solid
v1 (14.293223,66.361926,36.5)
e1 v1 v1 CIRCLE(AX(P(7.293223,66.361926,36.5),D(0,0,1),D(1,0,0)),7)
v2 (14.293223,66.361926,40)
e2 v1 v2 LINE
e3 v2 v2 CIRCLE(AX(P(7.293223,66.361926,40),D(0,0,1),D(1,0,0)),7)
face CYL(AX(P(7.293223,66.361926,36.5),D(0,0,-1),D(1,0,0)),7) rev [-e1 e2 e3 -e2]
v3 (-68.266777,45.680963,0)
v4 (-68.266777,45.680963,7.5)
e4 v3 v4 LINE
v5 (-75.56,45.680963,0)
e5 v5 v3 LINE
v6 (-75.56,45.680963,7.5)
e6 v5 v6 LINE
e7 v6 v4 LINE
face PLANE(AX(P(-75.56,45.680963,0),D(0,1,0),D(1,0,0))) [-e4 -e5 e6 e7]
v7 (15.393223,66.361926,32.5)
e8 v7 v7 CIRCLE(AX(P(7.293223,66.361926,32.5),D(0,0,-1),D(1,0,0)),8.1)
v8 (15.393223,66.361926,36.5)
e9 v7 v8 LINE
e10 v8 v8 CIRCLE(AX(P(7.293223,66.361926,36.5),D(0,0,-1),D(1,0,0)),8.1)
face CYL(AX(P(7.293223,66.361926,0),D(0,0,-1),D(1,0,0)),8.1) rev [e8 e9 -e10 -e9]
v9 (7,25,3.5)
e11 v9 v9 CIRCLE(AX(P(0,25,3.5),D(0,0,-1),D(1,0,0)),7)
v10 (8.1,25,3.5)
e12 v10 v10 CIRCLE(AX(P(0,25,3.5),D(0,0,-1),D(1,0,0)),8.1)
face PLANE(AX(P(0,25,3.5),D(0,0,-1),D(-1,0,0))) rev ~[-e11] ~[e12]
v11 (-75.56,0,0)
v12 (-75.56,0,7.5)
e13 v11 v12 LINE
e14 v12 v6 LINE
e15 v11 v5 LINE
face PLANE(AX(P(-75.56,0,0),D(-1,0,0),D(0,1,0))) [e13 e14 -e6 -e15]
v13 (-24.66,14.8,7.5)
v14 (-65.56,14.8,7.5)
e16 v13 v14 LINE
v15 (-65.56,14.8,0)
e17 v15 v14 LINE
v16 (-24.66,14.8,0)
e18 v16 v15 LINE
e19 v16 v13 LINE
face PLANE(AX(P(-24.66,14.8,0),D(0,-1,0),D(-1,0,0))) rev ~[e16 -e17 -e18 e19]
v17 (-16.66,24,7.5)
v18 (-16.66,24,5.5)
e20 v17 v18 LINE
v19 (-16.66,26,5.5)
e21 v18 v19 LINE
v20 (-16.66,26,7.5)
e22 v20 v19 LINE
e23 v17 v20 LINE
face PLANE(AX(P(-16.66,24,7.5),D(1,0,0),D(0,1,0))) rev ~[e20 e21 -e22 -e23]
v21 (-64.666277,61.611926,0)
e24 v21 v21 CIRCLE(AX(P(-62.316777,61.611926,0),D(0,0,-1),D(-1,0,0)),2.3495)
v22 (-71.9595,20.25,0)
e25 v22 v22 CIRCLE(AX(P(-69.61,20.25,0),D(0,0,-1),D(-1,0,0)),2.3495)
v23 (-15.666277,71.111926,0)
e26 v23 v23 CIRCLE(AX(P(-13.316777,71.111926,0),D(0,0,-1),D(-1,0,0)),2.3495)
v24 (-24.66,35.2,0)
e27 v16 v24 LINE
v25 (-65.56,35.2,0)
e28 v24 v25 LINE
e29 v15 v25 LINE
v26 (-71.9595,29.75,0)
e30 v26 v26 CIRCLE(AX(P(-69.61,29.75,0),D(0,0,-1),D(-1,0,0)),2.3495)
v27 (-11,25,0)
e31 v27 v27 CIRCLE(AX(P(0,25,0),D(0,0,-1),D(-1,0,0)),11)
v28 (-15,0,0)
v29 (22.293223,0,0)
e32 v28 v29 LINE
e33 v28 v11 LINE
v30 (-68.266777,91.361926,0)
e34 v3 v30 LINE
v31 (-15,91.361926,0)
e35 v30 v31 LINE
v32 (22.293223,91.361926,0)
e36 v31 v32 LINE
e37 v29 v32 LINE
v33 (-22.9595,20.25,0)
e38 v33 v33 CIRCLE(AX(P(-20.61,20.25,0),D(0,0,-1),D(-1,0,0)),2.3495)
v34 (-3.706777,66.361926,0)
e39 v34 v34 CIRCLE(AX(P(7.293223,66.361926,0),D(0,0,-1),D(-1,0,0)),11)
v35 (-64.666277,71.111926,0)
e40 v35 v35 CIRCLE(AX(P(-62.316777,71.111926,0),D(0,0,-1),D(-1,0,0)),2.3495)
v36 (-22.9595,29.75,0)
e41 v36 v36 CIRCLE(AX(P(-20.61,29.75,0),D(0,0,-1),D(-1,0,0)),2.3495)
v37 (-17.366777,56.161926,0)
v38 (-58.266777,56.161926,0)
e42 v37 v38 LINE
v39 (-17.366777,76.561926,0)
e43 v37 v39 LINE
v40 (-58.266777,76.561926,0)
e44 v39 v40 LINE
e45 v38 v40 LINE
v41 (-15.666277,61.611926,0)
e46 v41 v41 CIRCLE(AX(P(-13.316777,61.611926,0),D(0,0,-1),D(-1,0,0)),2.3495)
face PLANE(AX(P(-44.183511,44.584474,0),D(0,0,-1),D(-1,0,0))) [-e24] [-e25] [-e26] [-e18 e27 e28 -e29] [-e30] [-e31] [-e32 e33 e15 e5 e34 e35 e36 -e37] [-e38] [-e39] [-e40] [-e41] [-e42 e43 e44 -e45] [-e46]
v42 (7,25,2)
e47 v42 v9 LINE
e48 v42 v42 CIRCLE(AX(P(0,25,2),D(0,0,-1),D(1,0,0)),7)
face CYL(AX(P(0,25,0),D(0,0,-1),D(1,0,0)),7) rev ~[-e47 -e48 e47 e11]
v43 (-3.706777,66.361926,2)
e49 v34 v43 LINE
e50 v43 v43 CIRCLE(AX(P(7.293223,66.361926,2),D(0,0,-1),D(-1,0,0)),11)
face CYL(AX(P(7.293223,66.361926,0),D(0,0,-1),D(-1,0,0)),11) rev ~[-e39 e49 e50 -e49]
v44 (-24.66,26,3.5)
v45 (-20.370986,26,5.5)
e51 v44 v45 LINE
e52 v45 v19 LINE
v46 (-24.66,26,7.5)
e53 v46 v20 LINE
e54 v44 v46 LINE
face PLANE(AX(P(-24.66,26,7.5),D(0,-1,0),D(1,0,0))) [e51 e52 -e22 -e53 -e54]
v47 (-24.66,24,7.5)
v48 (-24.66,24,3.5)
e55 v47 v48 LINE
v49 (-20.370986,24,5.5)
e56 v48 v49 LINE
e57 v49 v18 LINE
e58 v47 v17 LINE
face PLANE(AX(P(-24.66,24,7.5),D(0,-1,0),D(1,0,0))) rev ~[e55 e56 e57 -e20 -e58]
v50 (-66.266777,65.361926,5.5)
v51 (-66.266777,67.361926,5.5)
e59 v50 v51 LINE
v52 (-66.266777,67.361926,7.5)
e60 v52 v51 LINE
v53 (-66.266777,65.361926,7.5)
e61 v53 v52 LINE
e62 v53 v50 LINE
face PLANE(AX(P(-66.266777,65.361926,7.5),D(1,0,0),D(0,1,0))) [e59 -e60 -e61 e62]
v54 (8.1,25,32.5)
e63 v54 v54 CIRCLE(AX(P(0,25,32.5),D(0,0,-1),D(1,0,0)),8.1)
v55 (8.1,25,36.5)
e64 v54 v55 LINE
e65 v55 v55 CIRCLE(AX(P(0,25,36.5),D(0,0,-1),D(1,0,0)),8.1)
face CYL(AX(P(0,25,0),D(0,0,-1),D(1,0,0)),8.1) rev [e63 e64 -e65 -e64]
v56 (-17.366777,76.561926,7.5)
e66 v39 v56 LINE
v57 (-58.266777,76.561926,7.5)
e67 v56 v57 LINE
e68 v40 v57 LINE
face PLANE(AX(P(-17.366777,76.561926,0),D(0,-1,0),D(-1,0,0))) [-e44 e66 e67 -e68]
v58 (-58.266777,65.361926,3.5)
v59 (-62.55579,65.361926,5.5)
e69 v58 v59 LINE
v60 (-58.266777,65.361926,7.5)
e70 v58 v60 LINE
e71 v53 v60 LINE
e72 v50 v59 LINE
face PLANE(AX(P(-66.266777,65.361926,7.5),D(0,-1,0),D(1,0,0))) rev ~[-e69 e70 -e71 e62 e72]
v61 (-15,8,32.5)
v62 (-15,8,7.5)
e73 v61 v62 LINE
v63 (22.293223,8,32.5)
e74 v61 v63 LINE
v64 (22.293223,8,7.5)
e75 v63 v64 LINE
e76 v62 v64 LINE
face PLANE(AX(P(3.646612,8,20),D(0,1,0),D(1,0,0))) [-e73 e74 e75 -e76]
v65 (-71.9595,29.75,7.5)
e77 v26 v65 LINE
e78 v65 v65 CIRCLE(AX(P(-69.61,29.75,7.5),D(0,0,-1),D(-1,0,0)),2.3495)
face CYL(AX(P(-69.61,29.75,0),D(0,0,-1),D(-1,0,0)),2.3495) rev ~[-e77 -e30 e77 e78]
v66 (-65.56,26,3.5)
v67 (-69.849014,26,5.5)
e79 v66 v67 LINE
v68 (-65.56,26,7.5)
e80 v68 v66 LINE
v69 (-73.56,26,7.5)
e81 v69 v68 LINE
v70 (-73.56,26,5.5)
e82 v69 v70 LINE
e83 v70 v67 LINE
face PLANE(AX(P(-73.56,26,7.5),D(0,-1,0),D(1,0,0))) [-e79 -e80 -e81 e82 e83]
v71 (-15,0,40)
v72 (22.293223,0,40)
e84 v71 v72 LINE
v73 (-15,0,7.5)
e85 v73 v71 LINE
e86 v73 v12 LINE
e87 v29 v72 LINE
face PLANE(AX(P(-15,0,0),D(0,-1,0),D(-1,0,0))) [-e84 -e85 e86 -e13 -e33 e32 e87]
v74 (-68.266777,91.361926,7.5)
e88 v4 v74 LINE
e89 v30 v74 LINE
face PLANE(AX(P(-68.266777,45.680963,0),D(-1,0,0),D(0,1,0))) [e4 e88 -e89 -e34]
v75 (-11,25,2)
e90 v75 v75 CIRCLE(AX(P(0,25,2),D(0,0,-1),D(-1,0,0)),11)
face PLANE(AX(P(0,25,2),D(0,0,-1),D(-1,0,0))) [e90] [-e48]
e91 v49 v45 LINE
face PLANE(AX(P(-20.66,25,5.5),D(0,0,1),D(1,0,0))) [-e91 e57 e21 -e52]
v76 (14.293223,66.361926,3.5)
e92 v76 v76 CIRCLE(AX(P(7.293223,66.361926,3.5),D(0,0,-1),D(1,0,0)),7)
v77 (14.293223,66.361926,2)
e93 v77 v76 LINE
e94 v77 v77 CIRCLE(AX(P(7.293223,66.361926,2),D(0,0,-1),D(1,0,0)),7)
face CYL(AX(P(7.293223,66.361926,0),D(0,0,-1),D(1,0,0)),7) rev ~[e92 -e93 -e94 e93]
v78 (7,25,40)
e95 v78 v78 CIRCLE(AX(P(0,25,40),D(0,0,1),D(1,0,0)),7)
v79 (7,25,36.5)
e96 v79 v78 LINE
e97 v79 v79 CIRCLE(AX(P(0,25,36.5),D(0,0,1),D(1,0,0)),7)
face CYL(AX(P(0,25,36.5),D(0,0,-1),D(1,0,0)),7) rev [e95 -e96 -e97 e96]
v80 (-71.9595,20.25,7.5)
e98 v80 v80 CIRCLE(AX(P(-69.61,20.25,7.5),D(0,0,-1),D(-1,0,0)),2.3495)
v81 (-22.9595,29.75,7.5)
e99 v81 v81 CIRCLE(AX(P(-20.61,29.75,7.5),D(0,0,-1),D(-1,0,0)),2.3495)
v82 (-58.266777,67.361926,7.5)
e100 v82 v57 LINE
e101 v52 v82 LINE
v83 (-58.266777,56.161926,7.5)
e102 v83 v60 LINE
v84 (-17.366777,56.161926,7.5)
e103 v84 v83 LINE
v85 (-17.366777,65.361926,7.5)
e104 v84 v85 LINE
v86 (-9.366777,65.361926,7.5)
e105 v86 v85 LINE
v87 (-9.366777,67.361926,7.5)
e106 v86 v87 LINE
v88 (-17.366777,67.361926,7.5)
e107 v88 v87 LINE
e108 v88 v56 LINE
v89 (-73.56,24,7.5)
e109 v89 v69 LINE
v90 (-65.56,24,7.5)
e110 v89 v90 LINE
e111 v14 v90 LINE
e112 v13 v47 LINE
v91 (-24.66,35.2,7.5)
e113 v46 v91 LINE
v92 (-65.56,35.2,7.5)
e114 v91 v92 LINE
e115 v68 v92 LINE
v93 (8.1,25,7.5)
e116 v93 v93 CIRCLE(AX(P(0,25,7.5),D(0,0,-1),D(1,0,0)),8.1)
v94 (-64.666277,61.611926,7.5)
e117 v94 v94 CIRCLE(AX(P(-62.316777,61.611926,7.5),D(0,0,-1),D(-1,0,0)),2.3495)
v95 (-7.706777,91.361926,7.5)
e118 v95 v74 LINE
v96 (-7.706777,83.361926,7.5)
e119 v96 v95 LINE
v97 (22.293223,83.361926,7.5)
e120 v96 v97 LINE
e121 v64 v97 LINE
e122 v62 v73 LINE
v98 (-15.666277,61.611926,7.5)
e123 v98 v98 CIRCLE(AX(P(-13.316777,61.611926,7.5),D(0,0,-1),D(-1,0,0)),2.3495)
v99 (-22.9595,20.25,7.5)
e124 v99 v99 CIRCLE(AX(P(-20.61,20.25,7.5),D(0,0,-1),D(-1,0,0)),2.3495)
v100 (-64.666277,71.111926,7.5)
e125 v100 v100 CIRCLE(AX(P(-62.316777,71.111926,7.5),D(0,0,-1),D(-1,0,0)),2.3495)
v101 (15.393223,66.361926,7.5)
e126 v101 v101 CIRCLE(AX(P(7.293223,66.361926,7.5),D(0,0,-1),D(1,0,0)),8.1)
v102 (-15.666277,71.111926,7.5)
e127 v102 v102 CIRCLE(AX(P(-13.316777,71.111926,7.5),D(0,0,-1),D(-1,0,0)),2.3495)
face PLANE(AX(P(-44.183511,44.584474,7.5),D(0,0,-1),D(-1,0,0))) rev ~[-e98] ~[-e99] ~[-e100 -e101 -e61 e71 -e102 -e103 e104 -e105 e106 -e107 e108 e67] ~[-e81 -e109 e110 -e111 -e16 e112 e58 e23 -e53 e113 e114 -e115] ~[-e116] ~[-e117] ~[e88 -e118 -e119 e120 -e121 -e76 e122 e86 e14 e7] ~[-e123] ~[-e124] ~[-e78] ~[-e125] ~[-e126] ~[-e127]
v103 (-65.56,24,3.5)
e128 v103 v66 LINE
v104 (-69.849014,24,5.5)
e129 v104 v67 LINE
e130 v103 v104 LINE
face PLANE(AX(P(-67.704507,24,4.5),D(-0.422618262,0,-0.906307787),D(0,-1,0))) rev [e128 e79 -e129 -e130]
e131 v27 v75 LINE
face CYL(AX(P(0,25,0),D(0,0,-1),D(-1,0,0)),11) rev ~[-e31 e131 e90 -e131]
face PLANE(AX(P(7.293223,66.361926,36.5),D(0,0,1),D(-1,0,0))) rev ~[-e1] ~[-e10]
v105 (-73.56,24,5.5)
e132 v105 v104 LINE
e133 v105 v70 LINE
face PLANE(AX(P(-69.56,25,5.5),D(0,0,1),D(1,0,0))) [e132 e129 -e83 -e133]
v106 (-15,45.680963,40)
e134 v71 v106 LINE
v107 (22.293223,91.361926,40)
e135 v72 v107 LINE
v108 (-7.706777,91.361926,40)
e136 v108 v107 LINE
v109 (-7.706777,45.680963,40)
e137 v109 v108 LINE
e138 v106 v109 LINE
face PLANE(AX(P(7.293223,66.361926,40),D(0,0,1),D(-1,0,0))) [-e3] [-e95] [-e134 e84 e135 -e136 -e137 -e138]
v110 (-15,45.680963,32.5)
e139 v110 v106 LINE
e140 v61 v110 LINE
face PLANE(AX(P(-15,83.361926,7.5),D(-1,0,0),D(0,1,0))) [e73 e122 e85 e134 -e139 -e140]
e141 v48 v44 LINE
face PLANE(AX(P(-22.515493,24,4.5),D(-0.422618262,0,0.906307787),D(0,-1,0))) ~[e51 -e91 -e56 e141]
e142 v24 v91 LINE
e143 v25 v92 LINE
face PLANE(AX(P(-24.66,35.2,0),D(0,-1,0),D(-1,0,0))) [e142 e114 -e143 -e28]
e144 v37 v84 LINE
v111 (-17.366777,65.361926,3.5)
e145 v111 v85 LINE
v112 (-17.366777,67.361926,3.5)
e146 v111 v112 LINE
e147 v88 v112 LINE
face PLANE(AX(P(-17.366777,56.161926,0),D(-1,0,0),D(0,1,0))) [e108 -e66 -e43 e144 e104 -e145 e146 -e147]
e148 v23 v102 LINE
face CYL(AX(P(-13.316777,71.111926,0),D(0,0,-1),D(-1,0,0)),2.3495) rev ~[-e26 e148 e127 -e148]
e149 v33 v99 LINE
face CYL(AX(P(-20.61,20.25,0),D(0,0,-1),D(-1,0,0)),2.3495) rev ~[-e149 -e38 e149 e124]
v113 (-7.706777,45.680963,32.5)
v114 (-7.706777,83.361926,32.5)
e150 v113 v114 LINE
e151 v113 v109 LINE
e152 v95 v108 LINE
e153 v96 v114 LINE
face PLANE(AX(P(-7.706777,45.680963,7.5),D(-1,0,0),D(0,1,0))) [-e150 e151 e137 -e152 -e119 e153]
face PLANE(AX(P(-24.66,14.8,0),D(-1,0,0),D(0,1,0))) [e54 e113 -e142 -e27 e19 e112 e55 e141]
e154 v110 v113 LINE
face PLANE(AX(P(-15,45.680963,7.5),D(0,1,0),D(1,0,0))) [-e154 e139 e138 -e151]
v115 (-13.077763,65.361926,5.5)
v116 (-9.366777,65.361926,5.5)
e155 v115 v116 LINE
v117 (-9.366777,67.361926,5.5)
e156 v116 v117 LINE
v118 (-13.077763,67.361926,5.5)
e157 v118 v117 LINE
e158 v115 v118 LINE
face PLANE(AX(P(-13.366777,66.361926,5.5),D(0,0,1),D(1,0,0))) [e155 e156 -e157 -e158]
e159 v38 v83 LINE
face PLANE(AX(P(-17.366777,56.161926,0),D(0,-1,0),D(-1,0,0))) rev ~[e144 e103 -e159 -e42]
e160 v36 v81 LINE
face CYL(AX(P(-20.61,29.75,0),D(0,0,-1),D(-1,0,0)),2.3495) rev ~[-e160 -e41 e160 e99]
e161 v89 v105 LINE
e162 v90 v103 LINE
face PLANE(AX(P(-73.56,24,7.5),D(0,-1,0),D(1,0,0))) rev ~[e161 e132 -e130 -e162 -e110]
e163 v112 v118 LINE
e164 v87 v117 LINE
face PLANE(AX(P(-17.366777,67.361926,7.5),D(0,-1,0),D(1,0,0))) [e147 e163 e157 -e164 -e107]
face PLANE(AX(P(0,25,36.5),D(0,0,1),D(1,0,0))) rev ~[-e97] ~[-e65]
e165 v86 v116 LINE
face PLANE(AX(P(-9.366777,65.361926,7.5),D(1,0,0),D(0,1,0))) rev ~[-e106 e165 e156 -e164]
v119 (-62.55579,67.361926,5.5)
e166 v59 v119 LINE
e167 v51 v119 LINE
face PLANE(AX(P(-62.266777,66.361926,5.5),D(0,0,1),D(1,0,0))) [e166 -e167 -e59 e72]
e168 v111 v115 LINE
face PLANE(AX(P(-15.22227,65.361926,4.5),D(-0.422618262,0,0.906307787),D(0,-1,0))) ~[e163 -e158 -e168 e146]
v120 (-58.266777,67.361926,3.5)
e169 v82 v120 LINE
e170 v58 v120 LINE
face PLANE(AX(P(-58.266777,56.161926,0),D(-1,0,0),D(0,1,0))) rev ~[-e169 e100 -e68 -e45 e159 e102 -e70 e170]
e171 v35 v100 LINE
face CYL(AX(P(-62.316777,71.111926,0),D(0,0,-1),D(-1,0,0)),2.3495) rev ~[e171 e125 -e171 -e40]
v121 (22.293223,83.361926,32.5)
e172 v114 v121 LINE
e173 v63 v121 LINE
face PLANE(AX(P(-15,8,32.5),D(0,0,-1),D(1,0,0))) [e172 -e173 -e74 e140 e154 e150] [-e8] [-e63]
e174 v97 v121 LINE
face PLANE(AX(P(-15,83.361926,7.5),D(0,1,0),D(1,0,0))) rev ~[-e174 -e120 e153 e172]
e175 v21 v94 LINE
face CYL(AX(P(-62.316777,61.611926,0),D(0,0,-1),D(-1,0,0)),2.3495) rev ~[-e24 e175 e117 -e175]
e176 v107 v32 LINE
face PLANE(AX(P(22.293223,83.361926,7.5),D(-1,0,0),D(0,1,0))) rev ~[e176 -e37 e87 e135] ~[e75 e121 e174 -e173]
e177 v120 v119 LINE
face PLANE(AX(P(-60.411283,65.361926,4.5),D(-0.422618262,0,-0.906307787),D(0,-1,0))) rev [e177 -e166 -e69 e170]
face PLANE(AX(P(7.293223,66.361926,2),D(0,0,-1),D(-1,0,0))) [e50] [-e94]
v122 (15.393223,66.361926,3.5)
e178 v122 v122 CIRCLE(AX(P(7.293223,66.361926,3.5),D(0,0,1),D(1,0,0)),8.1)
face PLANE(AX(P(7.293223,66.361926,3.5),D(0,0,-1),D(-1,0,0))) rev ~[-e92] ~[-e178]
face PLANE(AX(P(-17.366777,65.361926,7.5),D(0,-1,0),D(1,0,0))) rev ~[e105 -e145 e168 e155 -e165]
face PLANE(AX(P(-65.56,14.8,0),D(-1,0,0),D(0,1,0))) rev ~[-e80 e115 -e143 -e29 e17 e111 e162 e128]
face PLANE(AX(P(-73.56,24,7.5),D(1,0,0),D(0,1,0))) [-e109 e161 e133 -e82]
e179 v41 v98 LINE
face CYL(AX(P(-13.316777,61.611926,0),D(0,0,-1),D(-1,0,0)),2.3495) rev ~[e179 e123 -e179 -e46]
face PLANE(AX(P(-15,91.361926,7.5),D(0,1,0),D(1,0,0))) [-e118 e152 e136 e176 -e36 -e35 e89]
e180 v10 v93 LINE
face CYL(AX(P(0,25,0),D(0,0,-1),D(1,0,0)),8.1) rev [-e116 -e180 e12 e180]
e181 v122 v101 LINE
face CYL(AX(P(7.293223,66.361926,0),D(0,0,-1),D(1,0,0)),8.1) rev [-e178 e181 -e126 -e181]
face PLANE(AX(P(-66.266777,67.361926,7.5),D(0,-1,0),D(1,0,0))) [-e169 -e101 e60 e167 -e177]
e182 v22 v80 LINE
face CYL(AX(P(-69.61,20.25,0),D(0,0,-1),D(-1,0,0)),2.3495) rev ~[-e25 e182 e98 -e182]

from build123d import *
from OCP.BRepFilletAPI import BRepFilletAPI_MakeChamfer

# Parameters (mm, degrees)
SKETCH1_W           = 37.293223462
SKETCH1_H           = 91.361925627
SKETCH1_R           = 8.1
BOSS_EXTRUDE1_DEPTH = 40
CUT_EXTRUDE1_START  = 8
SKETCH2_W           = 37.293223462
SKETCH2_H           = 25
CUT_EXTRUDE1_DEPTH  = 95.195837814
BOSS_EXTRUDE2_START = -3.5
SKETCH10_R          = 8.1
SKETCH10_R_2        = 7
SKETCH10_R_3        = 10.837031589
BOSS_EXTRUDE2_DEPTH = 3.5
SKETCH11_R          = 8.1
SKETCH11_R_2        = 7
BOSS_EXTRUDE3_DEPTH = 3.5
SKETCH12_W          = 40.9
SKETCH12_H          = 20.4
BOSS_EXTRUDE4_DEPTH = 7.5
CUT_EXTRUDE2_REACH  = 127.125
SKETCH13_R          = 2.3495
SKETCH22_W          = 8
SKETCH22_H          = 2
CUT_EXTRUDE6_DEPTH  = 2
SKETCH14_W          = 37.293223462
SKETCH14_H          = 8
BOSS_EXTRUDE5_DEPTH = 25
CUT_EXTRUDE4_START  = -32.5
SKETCH18_W          = 7.293223462
SKETCH18_H          = 45.680962814
CUT_EXTRUDE4_DEPTH  = 32.5
SKETCH15_R          = 11
CUT_EXTRUDE3_DEPTH  = 2
CHAMFER2_SIZE       = 2
CHAMFER2_SIZE2      = 4.289013841


with BuildPart() as part:
    # Sketch1 → Boss-Extrude1 (new body)
    with BuildSketch(Plane.XY):
        with Locations((3.646611731, 45.680962814)):
            Rectangle(SKETCH1_W, SKETCH1_H)
        with Locations((0, 25)):
            Circle(SKETCH1_R, mode=Mode.SUBTRACT)
        with Locations((7.293223462, 66.361925627)):
            Circle(SKETCH1_R, mode=Mode.SUBTRACT)
    extrude(amount=BOSS_EXTRUDE1_DEPTH)

    # Sketch2 → Cut-Extrude1 (cut, through all)
    with BuildSketch(Plane(origin=(0, 0, 0), x_dir=(1, 0, 0), z_dir=(0, 1, 0)).offset(CUT_EXTRUDE1_START)):
        with Locations((3.646611731, -20)):
            Rectangle(SKETCH2_W, SKETCH2_H)
    extrude(amount=CUT_EXTRUDE1_DEPTH, mode=Mode.SUBTRACT)

    # Sketch10 → Boss-Extrude2 (add)
    # profile 1 of 2: a face of its own
    with BuildSketch(Plane.XY.offset(40).offset(BOSS_EXTRUDE2_START)):
        with Locations(Location((7.293223462, 66.361925627, 0), (0, 0, 180))):
            Circle(SKETCH10_R)
        with Locations((7.293223462, 66.361925627)):
            Circle(SKETCH10_R_2, mode=Mode.SUBTRACT)
    # profile 2 of 2: a face of its own
    with BuildSketch(Plane.XY.offset(40).offset(BOSS_EXTRUDE2_START)):
        with Locations((0, 25)):
            Circle(SKETCH10_R_3)
        with Locations((0, 25)):
            Circle(SKETCH10_R_2, mode=Mode.SUBTRACT)
    extrude(amount=BOSS_EXTRUDE2_DEPTH)

    # Sketch11 → Boss-Extrude3 (add)
    # profile 1 of 2: a face of its own
    with BuildSketch(Plane(origin=(0, 0, 0), x_dir=(-1, 0, 0), z_dir=(0, 0, -1))):
        with Locations((-7.293223462, 66.361925627)):
            Circle(SKETCH11_R)
        with Locations(Location((-7.293223462, 66.361925627, 0), (0, 0, 180))):
            Circle(SKETCH11_R_2, mode=Mode.SUBTRACT)
    # profile 2 of 2: a face of its own
    with BuildSketch(Plane(origin=(0, 0, 0), x_dir=(-1, 0, 0), z_dir=(0, 0, -1))):
        with Locations((0, 25)):
            Circle(SKETCH11_R)
        with Locations(Location((0, 25, 0), (0, 0, 180))):
            Circle(SKETCH11_R_2, mode=Mode.SUBTRACT)
    extrude(amount=-BOSS_EXTRUDE3_DEPTH)

    # Sketch12 → Boss-Extrude4 (add)
    with BuildSketch(Plane(origin=(0, 0, 0), x_dir=(-1, 0, 0), z_dir=(0, 0, -1))):
        Polygon((15, 0), (75.56, 0), (75.56, 45.680962813), (68.266776538, 45.680962813), (68.266776538, 91.361925627), (15, 91.361925627), align=None)
        with Locations((45.11, 25)):
            Rectangle(SKETCH12_W, SKETCH12_H, mode=Mode.SUBTRACT)
        with Locations((37.816776538, 66.361925627)):
            Rectangle(SKETCH12_W, SKETCH12_H, mode=Mode.SUBTRACT)
    extrude(amount=-BOSS_EXTRUDE4_DEPTH)

    # Sketch13 → Cut-Extrude2 (cut, up to next)
    with BuildSketch(Plane(origin=(0, 0, 0), x_dir=(-1, 0, 0), z_dir=(0, 0, -1)), mode=Mode.PRIVATE) as cut_extrude2_sk1:
        with Locations((20.61, 29.75)):
            Circle(SKETCH13_R)
    cut_extrude2_tool1 = extrude(cut_extrude2_sk1.sketch, amount=-CUT_EXTRUDE2_REACH, mode=Mode.PRIVATE) & part.part
    # Sketch13 → Cut-Extrude2 (cut, up to next)
    with BuildSketch(Plane(origin=(0, 0, 0), x_dir=(-1, 0, 0), z_dir=(0, 0, -1)), mode=Mode.PRIVATE) as cut_extrude2_sk2:
        with Locations((20.61, 20.25)):
            Circle(SKETCH13_R)
    cut_extrude2_tool2 = extrude(cut_extrude2_sk2.sketch, amount=-CUT_EXTRUDE2_REACH, mode=Mode.PRIVATE) & part.part
    # Sketch13 → Cut-Extrude2 (cut, up to next)
    with BuildSketch(Plane(origin=(0, 0, 0), x_dir=(-1, 0, 0), z_dir=(0, 0, -1)), mode=Mode.PRIVATE) as cut_extrude2_sk3:
        with Locations((69.61, 29.75)):
            Circle(SKETCH13_R)
    cut_extrude2_tool3 = extrude(cut_extrude2_sk3.sketch, amount=-CUT_EXTRUDE2_REACH, mode=Mode.PRIVATE) & part.part
    # Sketch13 → Cut-Extrude2 (cut, up to next)
    with BuildSketch(Plane(origin=(0, 0, 0), x_dir=(-1, 0, 0), z_dir=(0, 0, -1)), mode=Mode.PRIVATE) as cut_extrude2_sk4:
        with Locations((69.61, 20.25)):
            Circle(SKETCH13_R)
    cut_extrude2_tool4 = extrude(cut_extrude2_sk4.sketch, amount=-CUT_EXTRUDE2_REACH, mode=Mode.PRIVATE) & part.part
    # Sketch13 → Cut-Extrude2 (cut, up to next)
    with BuildSketch(Plane(origin=(0, 0, 0), x_dir=(-1, 0, 0), z_dir=(0, 0, -1)), mode=Mode.PRIVATE) as cut_extrude2_sk5:
        with Locations((13.316776538, 71.111925627)):
            Circle(SKETCH13_R)
    cut_extrude2_tool5 = extrude(cut_extrude2_sk5.sketch, amount=-CUT_EXTRUDE2_REACH, mode=Mode.PRIVATE) & part.part
    # Sketch13 → Cut-Extrude2 (cut, up to next)
    with BuildSketch(Plane(origin=(0, 0, 0), x_dir=(-1, 0, 0), z_dir=(0, 0, -1)), mode=Mode.PRIVATE) as cut_extrude2_sk6:
        with Locations((13.316776538, 61.611925627)):
            Circle(SKETCH13_R)
    cut_extrude2_tool6 = extrude(cut_extrude2_sk6.sketch, amount=-CUT_EXTRUDE2_REACH, mode=Mode.PRIVATE) & part.part
    # Sketch13 → Cut-Extrude2 (cut, up to next)
    with BuildSketch(Plane(origin=(0, 0, 0), x_dir=(-1, 0, 0), z_dir=(0, 0, -1)), mode=Mode.PRIVATE) as cut_extrude2_sk7:
        with Locations((62.316776538, 71.111925627)):
            Circle(SKETCH13_R)
    cut_extrude2_tool7 = extrude(cut_extrude2_sk7.sketch, amount=-CUT_EXTRUDE2_REACH, mode=Mode.PRIVATE) & part.part
    # Sketch13 → Cut-Extrude2 (cut, up to next)
    with BuildSketch(Plane(origin=(0, 0, 0), x_dir=(-1, 0, 0), z_dir=(0, 0, -1)), mode=Mode.PRIVATE) as cut_extrude2_sk8:
        with Locations((62.316776538, 61.611925627)):
            Circle(SKETCH13_R)
    cut_extrude2_tool8 = extrude(cut_extrude2_sk8.sketch, amount=-CUT_EXTRUDE2_REACH, mode=Mode.PRIVATE) & part.part
    add(cut_extrude2_tool1.solids().sort_by_distance((-20.61, 29.75, 0))[0], mode=Mode.SUBTRACT)
    add(cut_extrude2_tool2.solids().sort_by_distance((-20.61, 20.25, 0))[0], mode=Mode.SUBTRACT)
    add(cut_extrude2_tool3.solids().sort_by_distance((-69.61, 29.75, 0))[0], mode=Mode.SUBTRACT)
    add(cut_extrude2_tool4.solids().sort_by_distance((-69.61, 20.25, 0))[0], mode=Mode.SUBTRACT)
    add(cut_extrude2_tool5.solids().sort_by_distance((-13.316777, 71.111926, 0))[0], mode=Mode.SUBTRACT)
    add(cut_extrude2_tool6.solids().sort_by_distance((-13.316777, 61.611926, 0))[0], mode=Mode.SUBTRACT)
    add(cut_extrude2_tool7.solids().sort_by_distance((-62.316777, 71.111926, 0))[0], mode=Mode.SUBTRACT)
    add(cut_extrude2_tool8.solids().sort_by_distance((-62.316777, 61.611926, 0))[0], mode=Mode.SUBTRACT)

    # Sketch22 → Cut-Extrude6 (cut)
    with BuildSketch(Plane.XY.offset(7.5)):
        with Locations((-62.266776538, 66.361925627)):
            Rectangle(SKETCH22_W, SKETCH22_H)
        with Locations((-13.366776538, 66.361925627)):
            Rectangle(SKETCH22_W, SKETCH22_H)
        with Locations((-20.66, 25)):
            Rectangle(SKETCH22_W, SKETCH22_H)
        with Locations((-69.56, 25)):
            Rectangle(SKETCH22_W, SKETCH22_H)
    extrude(amount=-CUT_EXTRUDE6_DEPTH, mode=Mode.SUBTRACT)

    # Sketch14 → Boss-Extrude5 (add)
    with BuildSketch(Plane.XY.offset(7.5)):
        with Locations((3.646611731, 87.361925627)):
            Rectangle(SKETCH14_W, SKETCH14_H)
    extrude(amount=BOSS_EXTRUDE5_DEPTH)

    # Sketch18 → Cut-Extrude4 (cut)
    with BuildSketch(Plane.XY.offset(40).offset(CUT_EXTRUDE4_START)):
        with Locations((-11.353388269, 68.52144422)):
            Rectangle(SKETCH18_W, SKETCH18_H)
    extrude(amount=CUT_EXTRUDE4_DEPTH, mode=Mode.SUBTRACT)

    # Sketch15 → Cut-Extrude3 (cut)
    with BuildSketch(Plane(origin=(0, 0, 0), x_dir=(-1, 0, 0), z_dir=(0, 0, -1))):
        with Locations((0, 25)):
            Circle(SKETCH15_R)
        with Locations((-7.293223462, 66.361925627)):
            Circle(SKETCH15_R)
    extrude(amount=-CUT_EXTRUDE3_DEPTH, mode=Mode.SUBTRACT)

    # Chamfer2: one chamfer whose edges measure the first distance from different faces: ONE call of the kernel's chamfer builder (chamfer() names one face for all edges)
    chamfer2_edges_1 = [part.edges().sort_by_distance(p)[0] for p in [
        (-65.56, 25, 5.5),
    ]]
    chamfer2_side_1 = [part.faces().sort_by_distance(p)[0] for p in [
        (-65.56, 25, 3.676174497),
    ]]
    chamfer2_edges_2 = [part.edges().sort_by_distance(p)[0] for p in [
        (-24.66, 25, 5.5),
    ]]
    chamfer2_side_2 = [part.faces().sort_by_distance(p)[0] for p in [
        (-24.66, 25, 3.676174497),
    ]]
    chamfer2_edges_3 = [part.edges().sort_by_distance(p)[0] for p in [
        (-17.366776538, 66.361925627, 5.5),
    ]]
    chamfer2_side_3 = [part.faces().sort_by_distance(p)[0] for p in [
        (-17.366776538, 66.361925627, 3.676174497),
    ]]
    chamfer2_edges_4 = [part.edges().sort_by_distance(p)[0] for p in [
        (-58.266776538, 66.361925627, 5.5),
    ]]
    chamfer2_side_4 = [part.faces().sort_by_distance(p)[0] for p in [
        (-58.266776538, 66.361925627, 3.676174497),
    ]]
    chamfer2 = BRepFilletAPI_MakeChamfer(part.part.solid().wrapped)
    for e in chamfer2_edges_1:
        chamfer2.Add(CHAMFER2_SIZE, CHAMFER2_SIZE2, e.wrapped, chamfer2_side_1[0].wrapped)  # the first distance lies on this face
    for e in chamfer2_edges_2:
        chamfer2.Add(CHAMFER2_SIZE, CHAMFER2_SIZE2, e.wrapped, chamfer2_side_2[0].wrapped)  # the first distance lies on this face
    for e in chamfer2_edges_3:
        chamfer2.Add(CHAMFER2_SIZE, CHAMFER2_SIZE2, e.wrapped, chamfer2_side_3[0].wrapped)  # the first distance lies on this face
    for e in chamfer2_edges_4:
        chamfer2.Add(CHAMFER2_SIZE, CHAMFER2_SIZE2, e.wrapped, chamfer2_side_4[0].wrapped)  # the first distance lies on this face
    add(Compound.cast(chamfer2.Shape()), mode=Mode.REPLACE)


solid = part.part
